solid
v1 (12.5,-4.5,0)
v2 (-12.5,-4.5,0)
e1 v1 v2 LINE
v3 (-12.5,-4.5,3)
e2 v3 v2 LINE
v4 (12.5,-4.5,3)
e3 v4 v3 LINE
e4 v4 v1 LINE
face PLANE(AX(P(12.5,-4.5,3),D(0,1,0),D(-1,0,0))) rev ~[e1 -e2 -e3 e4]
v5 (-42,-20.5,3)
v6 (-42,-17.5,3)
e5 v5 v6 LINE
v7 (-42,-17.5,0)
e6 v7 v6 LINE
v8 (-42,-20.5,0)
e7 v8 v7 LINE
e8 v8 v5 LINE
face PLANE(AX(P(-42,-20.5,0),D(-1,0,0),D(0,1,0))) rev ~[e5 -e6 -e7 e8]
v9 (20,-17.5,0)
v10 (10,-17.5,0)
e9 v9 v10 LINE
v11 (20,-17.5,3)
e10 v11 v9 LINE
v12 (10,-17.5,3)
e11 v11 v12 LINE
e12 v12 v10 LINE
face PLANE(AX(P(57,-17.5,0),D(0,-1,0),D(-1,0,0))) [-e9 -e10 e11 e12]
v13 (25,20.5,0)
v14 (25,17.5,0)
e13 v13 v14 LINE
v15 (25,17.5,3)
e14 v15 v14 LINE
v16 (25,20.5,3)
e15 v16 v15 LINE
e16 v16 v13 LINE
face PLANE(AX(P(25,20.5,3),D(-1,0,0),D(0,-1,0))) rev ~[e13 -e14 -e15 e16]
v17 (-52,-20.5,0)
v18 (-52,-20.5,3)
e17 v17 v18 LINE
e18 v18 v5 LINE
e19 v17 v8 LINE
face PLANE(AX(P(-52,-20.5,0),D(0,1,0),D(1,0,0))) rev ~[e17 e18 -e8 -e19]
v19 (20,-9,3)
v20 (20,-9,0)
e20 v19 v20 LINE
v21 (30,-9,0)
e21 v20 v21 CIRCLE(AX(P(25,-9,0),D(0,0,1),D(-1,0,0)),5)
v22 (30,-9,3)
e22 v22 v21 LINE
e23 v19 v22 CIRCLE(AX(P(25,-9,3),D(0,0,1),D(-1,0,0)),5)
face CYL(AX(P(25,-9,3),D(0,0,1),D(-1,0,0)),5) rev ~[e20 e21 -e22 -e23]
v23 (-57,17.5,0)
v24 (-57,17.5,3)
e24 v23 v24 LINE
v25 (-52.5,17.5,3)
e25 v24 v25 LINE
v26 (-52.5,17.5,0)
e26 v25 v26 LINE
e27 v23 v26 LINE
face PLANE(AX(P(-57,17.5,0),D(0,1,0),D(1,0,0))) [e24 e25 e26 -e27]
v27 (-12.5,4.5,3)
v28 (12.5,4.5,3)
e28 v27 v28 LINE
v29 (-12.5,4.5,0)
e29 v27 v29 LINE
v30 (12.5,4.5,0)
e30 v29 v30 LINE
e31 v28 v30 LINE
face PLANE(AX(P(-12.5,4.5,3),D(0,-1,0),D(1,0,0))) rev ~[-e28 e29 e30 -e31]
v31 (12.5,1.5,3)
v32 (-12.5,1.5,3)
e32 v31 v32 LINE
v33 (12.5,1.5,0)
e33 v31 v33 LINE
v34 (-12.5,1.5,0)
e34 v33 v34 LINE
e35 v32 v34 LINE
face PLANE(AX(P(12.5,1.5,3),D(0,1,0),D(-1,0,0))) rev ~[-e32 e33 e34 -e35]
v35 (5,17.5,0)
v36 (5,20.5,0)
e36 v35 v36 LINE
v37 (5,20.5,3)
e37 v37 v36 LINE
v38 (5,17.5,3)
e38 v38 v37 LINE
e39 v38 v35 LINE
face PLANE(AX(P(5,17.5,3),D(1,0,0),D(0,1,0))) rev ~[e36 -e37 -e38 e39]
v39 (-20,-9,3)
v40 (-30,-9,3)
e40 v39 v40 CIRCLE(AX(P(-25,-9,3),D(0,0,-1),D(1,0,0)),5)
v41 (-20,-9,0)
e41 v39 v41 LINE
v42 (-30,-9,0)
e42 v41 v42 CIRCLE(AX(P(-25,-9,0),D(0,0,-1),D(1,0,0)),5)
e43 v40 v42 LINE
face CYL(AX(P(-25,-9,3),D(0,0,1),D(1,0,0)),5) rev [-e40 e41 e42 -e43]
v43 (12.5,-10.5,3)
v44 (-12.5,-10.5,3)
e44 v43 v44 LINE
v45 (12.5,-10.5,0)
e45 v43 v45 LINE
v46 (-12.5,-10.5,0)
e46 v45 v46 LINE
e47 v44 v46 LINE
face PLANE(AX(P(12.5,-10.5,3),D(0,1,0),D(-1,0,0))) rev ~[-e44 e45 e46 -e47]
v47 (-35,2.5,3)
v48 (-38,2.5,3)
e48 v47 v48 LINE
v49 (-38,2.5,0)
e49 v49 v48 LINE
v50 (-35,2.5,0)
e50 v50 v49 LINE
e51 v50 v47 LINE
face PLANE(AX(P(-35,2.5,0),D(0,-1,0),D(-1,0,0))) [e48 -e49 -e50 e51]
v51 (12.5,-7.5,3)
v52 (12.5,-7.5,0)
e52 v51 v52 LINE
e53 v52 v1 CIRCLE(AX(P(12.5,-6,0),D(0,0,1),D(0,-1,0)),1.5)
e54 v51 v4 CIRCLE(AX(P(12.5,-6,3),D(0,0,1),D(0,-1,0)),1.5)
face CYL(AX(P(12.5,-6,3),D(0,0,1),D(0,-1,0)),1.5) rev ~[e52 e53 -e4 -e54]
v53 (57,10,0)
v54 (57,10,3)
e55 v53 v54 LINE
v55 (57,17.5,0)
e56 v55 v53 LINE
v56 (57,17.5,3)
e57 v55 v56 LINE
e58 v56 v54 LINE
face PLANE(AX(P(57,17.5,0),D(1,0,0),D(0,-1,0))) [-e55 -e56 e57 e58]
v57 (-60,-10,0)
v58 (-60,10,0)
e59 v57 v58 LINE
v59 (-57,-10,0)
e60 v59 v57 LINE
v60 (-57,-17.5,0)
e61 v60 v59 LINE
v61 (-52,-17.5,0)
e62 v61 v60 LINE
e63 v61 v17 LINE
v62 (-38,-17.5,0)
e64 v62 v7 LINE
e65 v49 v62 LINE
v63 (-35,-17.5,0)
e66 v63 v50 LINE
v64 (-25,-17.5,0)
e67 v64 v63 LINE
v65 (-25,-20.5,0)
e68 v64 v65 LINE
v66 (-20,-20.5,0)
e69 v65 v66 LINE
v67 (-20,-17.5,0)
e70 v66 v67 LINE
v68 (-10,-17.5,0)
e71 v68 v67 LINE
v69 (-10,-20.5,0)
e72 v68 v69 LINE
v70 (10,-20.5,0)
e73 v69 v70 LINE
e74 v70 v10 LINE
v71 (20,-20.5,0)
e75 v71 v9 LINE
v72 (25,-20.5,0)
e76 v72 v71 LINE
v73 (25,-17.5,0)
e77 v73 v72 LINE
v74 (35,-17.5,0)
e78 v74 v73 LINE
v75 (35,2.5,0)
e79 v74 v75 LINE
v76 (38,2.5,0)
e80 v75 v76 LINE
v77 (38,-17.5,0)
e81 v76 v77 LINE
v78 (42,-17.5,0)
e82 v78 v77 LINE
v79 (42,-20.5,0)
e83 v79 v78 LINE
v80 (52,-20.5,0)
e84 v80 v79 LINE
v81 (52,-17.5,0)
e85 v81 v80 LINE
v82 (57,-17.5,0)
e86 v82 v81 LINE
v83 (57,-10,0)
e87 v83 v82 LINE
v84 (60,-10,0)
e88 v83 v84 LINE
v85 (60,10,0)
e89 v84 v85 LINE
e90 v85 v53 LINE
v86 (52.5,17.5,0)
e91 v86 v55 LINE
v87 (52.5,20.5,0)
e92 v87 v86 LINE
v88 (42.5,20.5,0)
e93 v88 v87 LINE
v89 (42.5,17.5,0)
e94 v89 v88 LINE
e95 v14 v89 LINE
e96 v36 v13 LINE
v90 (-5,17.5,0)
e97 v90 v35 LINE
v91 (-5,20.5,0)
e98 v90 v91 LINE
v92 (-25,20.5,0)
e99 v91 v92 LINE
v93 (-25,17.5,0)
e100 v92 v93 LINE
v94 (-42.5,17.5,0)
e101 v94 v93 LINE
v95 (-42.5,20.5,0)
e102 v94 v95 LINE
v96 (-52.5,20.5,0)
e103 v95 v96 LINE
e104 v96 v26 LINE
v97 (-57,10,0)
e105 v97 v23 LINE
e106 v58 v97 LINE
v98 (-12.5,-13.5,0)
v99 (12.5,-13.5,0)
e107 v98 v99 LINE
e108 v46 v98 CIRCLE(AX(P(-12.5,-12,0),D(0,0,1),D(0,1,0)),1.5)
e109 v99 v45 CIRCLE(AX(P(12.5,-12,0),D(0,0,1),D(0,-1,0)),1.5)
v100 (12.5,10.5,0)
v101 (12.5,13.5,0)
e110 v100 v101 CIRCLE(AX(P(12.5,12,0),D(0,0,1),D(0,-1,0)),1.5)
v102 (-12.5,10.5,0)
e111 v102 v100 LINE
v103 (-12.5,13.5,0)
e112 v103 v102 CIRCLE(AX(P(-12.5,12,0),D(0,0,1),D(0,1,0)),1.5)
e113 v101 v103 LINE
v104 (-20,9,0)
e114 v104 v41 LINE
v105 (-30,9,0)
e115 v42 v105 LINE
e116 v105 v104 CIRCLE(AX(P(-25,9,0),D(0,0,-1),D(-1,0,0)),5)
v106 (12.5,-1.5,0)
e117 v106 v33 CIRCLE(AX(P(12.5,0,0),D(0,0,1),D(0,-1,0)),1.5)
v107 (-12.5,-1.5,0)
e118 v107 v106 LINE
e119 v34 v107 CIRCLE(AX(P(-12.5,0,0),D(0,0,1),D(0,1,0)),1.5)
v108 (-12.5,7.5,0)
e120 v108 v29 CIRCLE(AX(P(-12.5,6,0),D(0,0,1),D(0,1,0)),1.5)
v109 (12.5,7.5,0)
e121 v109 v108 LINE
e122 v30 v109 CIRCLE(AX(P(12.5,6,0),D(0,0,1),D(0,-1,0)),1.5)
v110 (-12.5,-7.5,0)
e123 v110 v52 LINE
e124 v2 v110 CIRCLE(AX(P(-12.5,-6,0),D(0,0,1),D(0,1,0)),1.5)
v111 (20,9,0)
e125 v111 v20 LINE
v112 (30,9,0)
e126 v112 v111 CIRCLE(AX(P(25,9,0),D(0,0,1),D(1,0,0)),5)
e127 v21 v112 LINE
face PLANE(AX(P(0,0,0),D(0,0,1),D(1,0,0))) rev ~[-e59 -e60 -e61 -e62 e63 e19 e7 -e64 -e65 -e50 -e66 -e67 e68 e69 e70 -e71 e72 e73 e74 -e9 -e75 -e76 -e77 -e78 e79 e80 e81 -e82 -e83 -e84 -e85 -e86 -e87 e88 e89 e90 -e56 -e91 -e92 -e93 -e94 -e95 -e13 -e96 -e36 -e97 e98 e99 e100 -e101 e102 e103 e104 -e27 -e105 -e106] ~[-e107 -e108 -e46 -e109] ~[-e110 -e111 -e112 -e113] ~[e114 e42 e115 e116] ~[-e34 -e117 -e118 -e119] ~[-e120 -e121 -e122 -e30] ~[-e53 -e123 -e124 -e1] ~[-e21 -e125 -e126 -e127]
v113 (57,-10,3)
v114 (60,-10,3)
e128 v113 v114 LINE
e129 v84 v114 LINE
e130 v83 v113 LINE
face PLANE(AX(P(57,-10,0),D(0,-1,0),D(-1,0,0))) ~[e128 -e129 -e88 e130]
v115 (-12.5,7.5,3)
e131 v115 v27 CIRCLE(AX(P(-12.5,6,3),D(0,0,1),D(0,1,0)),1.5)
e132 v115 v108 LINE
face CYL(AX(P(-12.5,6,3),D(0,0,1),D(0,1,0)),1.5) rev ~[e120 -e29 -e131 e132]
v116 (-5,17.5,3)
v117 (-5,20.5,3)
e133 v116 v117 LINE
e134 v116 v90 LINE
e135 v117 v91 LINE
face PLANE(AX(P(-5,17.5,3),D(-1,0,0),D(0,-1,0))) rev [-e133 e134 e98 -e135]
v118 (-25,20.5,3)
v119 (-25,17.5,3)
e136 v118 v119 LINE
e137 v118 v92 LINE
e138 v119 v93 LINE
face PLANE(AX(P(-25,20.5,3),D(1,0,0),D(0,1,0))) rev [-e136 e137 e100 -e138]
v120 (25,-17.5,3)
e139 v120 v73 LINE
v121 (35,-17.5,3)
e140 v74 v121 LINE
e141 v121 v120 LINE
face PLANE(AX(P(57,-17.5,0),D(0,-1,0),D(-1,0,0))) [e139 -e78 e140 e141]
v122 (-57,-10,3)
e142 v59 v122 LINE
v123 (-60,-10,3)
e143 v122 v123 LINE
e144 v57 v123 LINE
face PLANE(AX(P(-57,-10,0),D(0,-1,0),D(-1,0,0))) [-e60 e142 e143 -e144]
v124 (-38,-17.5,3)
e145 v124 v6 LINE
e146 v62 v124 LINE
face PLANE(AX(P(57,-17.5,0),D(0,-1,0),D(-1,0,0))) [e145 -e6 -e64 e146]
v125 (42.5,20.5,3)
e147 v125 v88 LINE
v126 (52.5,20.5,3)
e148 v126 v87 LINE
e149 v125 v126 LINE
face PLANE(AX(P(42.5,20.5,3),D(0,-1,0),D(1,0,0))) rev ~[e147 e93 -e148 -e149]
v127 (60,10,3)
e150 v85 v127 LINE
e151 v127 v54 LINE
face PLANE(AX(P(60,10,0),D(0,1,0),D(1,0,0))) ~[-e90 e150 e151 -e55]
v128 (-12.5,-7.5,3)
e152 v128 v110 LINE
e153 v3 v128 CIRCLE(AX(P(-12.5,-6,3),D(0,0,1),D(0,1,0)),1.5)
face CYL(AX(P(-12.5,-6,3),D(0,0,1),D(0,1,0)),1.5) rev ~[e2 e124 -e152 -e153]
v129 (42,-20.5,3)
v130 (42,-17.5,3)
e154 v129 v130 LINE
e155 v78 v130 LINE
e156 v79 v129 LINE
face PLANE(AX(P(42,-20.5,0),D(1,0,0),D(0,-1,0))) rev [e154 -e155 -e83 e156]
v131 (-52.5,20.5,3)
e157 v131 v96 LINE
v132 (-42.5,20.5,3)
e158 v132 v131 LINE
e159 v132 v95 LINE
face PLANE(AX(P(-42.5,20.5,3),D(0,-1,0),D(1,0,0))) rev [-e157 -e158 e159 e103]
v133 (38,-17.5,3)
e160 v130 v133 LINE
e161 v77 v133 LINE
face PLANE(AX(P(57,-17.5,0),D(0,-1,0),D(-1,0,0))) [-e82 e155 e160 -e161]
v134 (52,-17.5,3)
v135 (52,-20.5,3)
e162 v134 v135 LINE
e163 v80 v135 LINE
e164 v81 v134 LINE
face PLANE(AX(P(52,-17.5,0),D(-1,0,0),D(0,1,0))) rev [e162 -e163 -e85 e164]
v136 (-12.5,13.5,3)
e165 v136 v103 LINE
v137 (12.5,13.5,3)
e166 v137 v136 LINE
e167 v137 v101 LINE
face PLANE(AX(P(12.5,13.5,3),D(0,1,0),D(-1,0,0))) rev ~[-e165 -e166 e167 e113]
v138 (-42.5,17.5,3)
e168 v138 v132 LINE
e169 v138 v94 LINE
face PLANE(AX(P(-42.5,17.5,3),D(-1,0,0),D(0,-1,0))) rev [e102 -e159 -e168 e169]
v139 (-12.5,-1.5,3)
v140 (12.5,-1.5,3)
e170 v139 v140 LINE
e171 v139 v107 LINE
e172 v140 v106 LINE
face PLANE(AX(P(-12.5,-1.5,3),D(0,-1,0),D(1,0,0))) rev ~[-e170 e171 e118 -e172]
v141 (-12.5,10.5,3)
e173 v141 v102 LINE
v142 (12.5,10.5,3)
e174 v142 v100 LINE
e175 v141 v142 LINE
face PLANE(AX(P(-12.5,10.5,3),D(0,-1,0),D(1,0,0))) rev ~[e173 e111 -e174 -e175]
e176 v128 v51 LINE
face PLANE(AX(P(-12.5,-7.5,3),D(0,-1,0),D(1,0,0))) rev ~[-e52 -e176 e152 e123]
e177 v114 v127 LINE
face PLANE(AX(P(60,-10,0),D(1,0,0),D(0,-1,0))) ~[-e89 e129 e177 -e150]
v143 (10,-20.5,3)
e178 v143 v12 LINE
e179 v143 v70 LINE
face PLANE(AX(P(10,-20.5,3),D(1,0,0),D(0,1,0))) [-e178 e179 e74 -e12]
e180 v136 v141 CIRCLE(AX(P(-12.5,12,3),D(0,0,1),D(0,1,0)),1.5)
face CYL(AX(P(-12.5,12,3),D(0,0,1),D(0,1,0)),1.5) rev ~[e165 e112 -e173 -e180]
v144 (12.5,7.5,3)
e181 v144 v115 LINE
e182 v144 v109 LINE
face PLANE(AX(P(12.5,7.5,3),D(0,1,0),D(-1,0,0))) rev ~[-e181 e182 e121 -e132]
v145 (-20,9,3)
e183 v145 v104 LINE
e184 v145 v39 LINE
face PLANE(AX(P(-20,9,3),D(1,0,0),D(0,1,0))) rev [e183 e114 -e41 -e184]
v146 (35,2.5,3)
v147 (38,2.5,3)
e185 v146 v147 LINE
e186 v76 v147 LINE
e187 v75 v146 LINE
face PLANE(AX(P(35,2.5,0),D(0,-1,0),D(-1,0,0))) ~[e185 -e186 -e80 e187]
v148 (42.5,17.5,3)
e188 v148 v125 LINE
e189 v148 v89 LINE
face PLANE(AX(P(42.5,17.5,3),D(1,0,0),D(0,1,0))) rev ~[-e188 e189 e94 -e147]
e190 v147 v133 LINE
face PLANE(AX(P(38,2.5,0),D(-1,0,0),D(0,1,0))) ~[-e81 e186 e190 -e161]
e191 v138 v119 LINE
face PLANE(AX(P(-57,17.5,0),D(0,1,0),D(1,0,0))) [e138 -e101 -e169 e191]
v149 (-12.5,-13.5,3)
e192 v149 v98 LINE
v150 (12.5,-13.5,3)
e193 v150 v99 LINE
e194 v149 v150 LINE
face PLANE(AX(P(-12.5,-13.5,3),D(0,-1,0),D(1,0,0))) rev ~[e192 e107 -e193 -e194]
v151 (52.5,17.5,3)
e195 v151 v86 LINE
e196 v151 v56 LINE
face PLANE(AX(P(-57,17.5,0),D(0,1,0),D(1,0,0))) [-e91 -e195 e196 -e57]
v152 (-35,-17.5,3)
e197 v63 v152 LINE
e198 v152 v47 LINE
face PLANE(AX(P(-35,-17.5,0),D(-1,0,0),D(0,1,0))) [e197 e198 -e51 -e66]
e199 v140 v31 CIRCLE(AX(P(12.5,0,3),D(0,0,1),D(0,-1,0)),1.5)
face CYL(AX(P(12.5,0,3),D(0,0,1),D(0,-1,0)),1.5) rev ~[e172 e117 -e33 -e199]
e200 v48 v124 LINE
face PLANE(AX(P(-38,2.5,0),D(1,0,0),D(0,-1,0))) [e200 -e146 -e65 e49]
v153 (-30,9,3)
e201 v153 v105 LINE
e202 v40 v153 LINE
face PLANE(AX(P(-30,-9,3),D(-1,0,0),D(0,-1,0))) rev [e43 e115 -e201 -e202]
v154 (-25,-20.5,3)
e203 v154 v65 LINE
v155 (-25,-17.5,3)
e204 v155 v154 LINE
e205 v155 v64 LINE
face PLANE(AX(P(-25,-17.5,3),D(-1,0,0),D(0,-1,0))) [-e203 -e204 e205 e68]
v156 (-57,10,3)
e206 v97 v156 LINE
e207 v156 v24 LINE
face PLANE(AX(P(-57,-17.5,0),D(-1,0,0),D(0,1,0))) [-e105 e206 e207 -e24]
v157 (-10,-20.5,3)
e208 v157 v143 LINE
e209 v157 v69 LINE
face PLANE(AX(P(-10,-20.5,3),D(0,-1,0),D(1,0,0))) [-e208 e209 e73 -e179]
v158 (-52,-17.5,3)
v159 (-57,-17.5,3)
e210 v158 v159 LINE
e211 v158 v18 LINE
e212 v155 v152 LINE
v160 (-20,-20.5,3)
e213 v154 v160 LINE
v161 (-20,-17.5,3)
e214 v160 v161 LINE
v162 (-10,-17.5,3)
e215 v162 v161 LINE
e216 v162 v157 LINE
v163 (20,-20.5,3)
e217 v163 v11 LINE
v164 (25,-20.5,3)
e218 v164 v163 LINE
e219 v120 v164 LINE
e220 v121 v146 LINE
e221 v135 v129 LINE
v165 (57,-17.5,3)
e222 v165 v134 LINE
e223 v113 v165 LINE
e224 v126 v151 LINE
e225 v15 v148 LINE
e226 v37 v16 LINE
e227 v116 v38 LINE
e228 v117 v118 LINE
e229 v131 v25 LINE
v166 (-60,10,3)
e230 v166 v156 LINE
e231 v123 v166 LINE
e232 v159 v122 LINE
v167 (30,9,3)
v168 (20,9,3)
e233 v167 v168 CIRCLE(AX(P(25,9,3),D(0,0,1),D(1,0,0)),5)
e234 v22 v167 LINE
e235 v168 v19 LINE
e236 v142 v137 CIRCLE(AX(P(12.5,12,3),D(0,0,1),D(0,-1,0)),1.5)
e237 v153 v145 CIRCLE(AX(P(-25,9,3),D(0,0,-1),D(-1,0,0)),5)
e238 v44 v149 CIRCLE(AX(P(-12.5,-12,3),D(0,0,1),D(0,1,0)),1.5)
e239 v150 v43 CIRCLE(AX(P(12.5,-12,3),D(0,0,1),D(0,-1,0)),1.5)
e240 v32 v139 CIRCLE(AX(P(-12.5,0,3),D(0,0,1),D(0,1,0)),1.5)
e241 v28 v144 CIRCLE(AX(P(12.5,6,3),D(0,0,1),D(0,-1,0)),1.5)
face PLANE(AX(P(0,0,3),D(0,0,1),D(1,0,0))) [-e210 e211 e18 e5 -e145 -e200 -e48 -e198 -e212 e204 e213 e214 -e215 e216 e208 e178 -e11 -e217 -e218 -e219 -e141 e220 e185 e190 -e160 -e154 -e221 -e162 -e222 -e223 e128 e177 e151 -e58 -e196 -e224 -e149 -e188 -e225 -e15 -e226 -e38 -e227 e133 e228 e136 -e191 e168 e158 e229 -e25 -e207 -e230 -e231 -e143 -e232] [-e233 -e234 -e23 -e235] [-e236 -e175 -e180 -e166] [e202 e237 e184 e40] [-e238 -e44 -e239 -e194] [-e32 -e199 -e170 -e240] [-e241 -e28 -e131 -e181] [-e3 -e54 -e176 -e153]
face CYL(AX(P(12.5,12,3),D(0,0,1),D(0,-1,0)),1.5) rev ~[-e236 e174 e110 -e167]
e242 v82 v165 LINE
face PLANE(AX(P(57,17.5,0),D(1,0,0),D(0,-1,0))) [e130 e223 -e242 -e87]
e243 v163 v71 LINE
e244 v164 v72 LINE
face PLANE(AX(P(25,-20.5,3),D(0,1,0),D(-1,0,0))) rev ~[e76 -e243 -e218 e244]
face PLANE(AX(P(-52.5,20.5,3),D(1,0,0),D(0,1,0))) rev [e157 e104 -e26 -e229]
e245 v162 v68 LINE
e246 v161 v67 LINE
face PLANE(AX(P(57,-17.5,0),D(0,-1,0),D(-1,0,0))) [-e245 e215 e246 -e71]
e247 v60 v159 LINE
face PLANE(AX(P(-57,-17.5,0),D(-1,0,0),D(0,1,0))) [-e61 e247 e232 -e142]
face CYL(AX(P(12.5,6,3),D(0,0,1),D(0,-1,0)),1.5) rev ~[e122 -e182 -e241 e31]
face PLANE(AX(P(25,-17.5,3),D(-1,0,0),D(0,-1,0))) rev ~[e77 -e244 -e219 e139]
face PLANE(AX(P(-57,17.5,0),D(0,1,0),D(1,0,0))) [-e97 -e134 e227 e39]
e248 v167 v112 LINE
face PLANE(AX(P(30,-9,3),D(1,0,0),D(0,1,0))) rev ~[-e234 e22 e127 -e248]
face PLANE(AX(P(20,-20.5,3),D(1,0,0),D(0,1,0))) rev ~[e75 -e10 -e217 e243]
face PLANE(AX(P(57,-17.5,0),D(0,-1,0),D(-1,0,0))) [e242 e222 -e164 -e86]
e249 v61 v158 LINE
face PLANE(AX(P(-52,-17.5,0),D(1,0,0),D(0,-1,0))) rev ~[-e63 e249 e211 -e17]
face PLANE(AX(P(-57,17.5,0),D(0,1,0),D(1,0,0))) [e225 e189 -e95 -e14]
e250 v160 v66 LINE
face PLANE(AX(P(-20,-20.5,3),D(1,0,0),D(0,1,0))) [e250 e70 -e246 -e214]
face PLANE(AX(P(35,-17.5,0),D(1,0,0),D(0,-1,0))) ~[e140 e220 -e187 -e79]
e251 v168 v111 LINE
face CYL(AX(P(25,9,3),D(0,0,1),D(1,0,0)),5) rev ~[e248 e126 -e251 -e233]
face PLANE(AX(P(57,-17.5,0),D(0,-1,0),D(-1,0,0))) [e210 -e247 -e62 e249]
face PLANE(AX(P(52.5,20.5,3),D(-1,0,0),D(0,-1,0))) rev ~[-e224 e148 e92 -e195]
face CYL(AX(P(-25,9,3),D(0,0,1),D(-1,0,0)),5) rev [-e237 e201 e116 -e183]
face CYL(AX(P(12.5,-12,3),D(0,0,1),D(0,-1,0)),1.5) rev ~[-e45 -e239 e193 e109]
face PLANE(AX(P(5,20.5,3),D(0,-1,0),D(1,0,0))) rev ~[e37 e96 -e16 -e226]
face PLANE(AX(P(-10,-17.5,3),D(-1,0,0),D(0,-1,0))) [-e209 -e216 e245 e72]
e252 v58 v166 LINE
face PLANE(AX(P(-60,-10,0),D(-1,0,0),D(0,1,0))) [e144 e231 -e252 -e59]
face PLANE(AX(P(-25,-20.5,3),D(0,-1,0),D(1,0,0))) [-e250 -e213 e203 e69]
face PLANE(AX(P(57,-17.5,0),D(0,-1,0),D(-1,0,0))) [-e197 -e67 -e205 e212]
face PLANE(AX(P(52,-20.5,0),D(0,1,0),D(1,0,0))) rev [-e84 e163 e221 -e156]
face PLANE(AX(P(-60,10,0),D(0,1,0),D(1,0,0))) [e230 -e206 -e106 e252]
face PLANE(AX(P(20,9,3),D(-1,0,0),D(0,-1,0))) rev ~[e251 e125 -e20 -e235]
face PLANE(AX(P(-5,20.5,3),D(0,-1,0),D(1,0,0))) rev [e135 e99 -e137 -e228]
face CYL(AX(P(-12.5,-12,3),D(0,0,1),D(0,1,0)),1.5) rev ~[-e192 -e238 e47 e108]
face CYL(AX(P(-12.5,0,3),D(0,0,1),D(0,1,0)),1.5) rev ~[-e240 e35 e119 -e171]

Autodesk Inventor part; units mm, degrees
ref_plane "YZ Plane" through (0, 0, 0) normal (1, 0, 0) x (0, 1, 0)
ref_plane "XZ Plane" through (0, 0, 0) normal (0, 1, 0) x (-1, 0, 0)
ref_plane "XY Plane" through (0, 0, 0) normal (0, 0, 1) x (1, 0, 0)
sketch "Sketch1" plane through (0, 0, 0) normal (0, 0, 1) x (1, 0, 0)
  line L0 (57, -17.5) -> (-57, -17.5)
  line L1 (-57, -17.5) -> (-57, 17.5)
  line L2 (-57, 17.5) -> (57, 17.5)
  line L3 (57, 17.5) -> (57, -17.5)
  line L4 (57, -17.5) -> (-57, 17.5) construction
  line L5 (-57, -17.5) -> (57, 17.5) construction
  point P0 (0, 0)
  dimension "d0" = 114
  dimension "d1" = 35
extrude "Extrusion1" add sketch "Sketch1" along normal blind 3
sketch "Sketch2" plane through (0, 0, 3) normal (0, 0, 1) x (1, 0, 0)
  line L0 (-57, -17.5) -> (57, -17.5) projected
  line L1 (10, -17.5) -> (-10, -17.5)
  line L2 (-10, -17.5) -> (-10, -20.5)
  line L3 (-10, -20.5) -> (10, -20.5)
  line L4 (10, -20.5) -> (10, -17.5)
  line L5 (-20, -17.5) -> (-25, -17.5)
  line L6 (-25, -17.5) -> (-25, -20.5)
  line L7 (-25, -20.5) -> (-20, -20.5)
  line L8 (-20, -20.5) -> (-20, -17.5)
  line L9 (20, -17.5) -> (25, -17.5)
  line L10 (25, -17.5) -> (25, -20.5)
  line L11 (25, -20.5) -> (20, -20.5)
  line L12 (20, -20.5) -> (20, -17.5)
  point P0 (0, 0)
  point P1 (0, -20.5)
  dimension "d4" = 20
  dimension "d5" = 3
  dimension "d6" = 5
  dimension "d7" = 3
  dimension "d8" = 10
  dimension "d9" = 5
  dimension "d10" = 3
  dimension "d11" = 10
extrude "Extrusion2" add sketch "Sketch2" against normal blind 3
sketch "Sketch3" plane through (0, 0, 0) normal (0, 0, -1) x (-1, 0, 0)
  line L0 (57, -17.5) -> (25, -17.5) projected
  line L1 (38, -17.5) -> (35, -17.5)
  line L2 (35, -17.5) -> (35, 2.5)
  line L3 (35, 2.5) -> (38, 2.5)
  line L4 (38, 2.5) -> (38, -17.5)
  line L5 (-57, 17.5) -> (57, 17.5) projected
  point P0 (0, 0)
  dimension "d14" = 3
  dimension "d15" = 15
  dimension "d16" = 35
extrude "Extrusion3" cut sketch "Sketch3" against normal blind 3
sketch "Sketch4" plane through (0, 0, 0) normal (0, 0, -1) x (-1, 0, 0)
  line L0 (38, -17.5) -> (57, -17.5) projected
  line L1 (42, -17.5) -> (52, -17.5)
  line L2 (52, -17.5) -> (52, -20.5)
  line L3 (52, -20.5) -> (42, -20.5)
  line L4 (42, -20.5) -> (42, -17.5)
  line L5 (25, -20.5) -> (25, -17.5) projected
  point P0 (0, 0)
  dimension "d19" = 10
  dimension "d20" = 3
  dimension "d21" = 17
extrude "Extrusion4" add sketch "Sketch4" against normal blind 3
sketch "Sketch5" plane through (0, 0, 0) normal (0, 0, -1) x (-1, 0, 0)
  line L0 (57, 17.5) -> (57, -17.5) projected
  line L1 (57, -10) -> (60, -10)
  line L2 (60, -10) -> (60, 10)
  line L3 (60, 10) -> (57, 10)
  line L4 (57, 10) -> (57, -10)
  line L5 (52, -17.5) -> (57, -17.5) projected
  point P0 (0, 0)
  dimension "d24" = 3
  dimension "d25" = 20
  dimension "d26" = 7.5
extrude "Extrusion5" add sketch "Sketch5" against normal blind 3
mirror "Mirror1" about plane through (0, 0, 0) normal (1, 0, 0) of "Extrusion5", "Extrusion4", "Extrusion3"
sketch "Sketch6" plane through (0, 0, 3) normal (0, 0, 1) x (1, 0, 0)
  line L0 (-57, 17.5) -> (57, 17.5) projected
  line L1 (52.5, 17.5) -> (42.5, 17.5)
  line L2 (42.5, 17.5) -> (42.5, 20.5)
  line L3 (42.5, 20.5) -> (52.5, 20.5)
  line L4 (52.5, 20.5) -> (52.5, 17.5)
  line L5 (25, 17.5) -> (5, 17.5)
  line L6 (5, 17.5) -> (5, 20.5)
  line L7 (5, 20.5) -> (25, 20.5)
  line L8 (25, 20.5) -> (25, 17.5)
  point P0 (0, 0)
  dimension "d29" = 10
  dimension "d30" = 3
  dimension "d31" = 20
  dimension "d32" = 3
  dimension "d33" = 17.5
  dimension "d34" = 5
extrude "Extrusion6" add sketch "Sketch6" against normal blind 3
sketch "Sketch7" plane through (0, 0, 3) normal (0, 0, 1) x (1, 0, 0)
  line L0 (25, 9) -> (25, -9) construction
  line L1 (20, 9) -> (20, -9)
  line L2 (30, -9) -> (30, 9)
  arc A0 (30, 9) -> (20, 9) centre (25, 9) ccw
  arc A1 (20, -9) -> (30, -9) centre (25, -9) ccw
  point P0 (0, 0)
  point P1 (25, 0)
  dimension "d37" = 18
  dimension "d38" = 10
  dimension "d39" = 25
extrude "Extrusion7" cut sketch "Sketch7" against normal blind 3
sketch "Sketch8" plane through (0, 0, 3) normal (0, 0, 1) x (1, 0, 0)
  line L0 (12.5, 12) -> (-12.5, 12) construction
  line L1 (12.5, 13.5) -> (-12.5, 13.5)
  line L2 (-12.5, 10.5) -> (12.5, 10.5)
  arc A0 (12.5, 10.5) -> (12.5, 13.5) centre (12.5, 12) ccw
  arc A1 (-12.5, 13.5) -> (-12.5, 10.5) centre (-12.5, 12) ccw
  line L3 (-12.5, 6) -> (12.5, 6) construction
  line L4 (-12.5, 4.5) -> (12.5, 4.5)
  line L5 (12.5, 7.5) -> (-12.5, 7.5)
  arc A2 (-12.5, 7.5) -> (-12.5, 4.5) centre (-12.5, 6) ccw
  arc A3 (12.5, 4.5) -> (12.5, 7.5) centre (12.5, 6) ccw
  line L6 (-12.5, -6) -> (12.5, -6) construction
  line L7 (-12.5, -7.5) -> (12.5, -7.5)
  line L8 (12.5, -4.5) -> (-12.5, -4.5)
  arc A4 (-12.5, -4.5) -> (-12.5, -7.5) centre (-12.5, -6) ccw
  arc A5 (12.5, -7.5) -> (12.5, -4.5) centre (12.5, -6) ccw
  line L9 (-12.5, -12) -> (12.5, -12) construction
  line L10 (-12.5, -13.5) -> (12.5, -13.5)
  line L11 (12.5, -10.5) -> (-12.5, -10.5)
  arc A6 (-12.5, -10.5) -> (-12.5, -13.5) centre (-12.5, -12) ccw
  arc A7 (12.5, -13.5) -> (12.5, -10.5) centre (12.5, -12) ccw
  line L12 (-12.5, 0) -> (12.5, 0) construction
  line L13 (-12.5, -1.5) -> (12.5, -1.5)
  line L14 (12.5, 1.5) -> (-12.5, 1.5)
  arc A8 (-12.5, 1.5) -> (-12.5, -1.5) centre (-12.5, 0) ccw
  arc A9 (12.5, -1.5) -> (12.5, 1.5) centre (12.5, 0) ccw
  point P0 (0, 0)
  point P1 (0, 12)
  point P2 (0, 6)
  point P3 (0, -6)
  point P4 (0, -12)
  point P5 (0, 0)
  dimension "d42" = 3
  dimension "d43" = 12
  dimension "d44" = 3
  dimension "d45" = 3
  dimension "d46" = 3
  dimension "d47" = 12
  dimension "d48" = 6
  dimension "d49" = 6
  dimension "d50" = 3
  dimension "d51" = 25
extrude "Extrusion8" cut sketch "Sketch8" against normal blind 3
mirror "Mirror2" about plane through (0, 0, 0) normal (1, 0, 0) of "Extrusion6", "Extrusion7"
equation "\"d11\" = d8"
equation "\"d47\" = d43"
equation "\"d49\" = d48"
properties part number "Lower bottom"
